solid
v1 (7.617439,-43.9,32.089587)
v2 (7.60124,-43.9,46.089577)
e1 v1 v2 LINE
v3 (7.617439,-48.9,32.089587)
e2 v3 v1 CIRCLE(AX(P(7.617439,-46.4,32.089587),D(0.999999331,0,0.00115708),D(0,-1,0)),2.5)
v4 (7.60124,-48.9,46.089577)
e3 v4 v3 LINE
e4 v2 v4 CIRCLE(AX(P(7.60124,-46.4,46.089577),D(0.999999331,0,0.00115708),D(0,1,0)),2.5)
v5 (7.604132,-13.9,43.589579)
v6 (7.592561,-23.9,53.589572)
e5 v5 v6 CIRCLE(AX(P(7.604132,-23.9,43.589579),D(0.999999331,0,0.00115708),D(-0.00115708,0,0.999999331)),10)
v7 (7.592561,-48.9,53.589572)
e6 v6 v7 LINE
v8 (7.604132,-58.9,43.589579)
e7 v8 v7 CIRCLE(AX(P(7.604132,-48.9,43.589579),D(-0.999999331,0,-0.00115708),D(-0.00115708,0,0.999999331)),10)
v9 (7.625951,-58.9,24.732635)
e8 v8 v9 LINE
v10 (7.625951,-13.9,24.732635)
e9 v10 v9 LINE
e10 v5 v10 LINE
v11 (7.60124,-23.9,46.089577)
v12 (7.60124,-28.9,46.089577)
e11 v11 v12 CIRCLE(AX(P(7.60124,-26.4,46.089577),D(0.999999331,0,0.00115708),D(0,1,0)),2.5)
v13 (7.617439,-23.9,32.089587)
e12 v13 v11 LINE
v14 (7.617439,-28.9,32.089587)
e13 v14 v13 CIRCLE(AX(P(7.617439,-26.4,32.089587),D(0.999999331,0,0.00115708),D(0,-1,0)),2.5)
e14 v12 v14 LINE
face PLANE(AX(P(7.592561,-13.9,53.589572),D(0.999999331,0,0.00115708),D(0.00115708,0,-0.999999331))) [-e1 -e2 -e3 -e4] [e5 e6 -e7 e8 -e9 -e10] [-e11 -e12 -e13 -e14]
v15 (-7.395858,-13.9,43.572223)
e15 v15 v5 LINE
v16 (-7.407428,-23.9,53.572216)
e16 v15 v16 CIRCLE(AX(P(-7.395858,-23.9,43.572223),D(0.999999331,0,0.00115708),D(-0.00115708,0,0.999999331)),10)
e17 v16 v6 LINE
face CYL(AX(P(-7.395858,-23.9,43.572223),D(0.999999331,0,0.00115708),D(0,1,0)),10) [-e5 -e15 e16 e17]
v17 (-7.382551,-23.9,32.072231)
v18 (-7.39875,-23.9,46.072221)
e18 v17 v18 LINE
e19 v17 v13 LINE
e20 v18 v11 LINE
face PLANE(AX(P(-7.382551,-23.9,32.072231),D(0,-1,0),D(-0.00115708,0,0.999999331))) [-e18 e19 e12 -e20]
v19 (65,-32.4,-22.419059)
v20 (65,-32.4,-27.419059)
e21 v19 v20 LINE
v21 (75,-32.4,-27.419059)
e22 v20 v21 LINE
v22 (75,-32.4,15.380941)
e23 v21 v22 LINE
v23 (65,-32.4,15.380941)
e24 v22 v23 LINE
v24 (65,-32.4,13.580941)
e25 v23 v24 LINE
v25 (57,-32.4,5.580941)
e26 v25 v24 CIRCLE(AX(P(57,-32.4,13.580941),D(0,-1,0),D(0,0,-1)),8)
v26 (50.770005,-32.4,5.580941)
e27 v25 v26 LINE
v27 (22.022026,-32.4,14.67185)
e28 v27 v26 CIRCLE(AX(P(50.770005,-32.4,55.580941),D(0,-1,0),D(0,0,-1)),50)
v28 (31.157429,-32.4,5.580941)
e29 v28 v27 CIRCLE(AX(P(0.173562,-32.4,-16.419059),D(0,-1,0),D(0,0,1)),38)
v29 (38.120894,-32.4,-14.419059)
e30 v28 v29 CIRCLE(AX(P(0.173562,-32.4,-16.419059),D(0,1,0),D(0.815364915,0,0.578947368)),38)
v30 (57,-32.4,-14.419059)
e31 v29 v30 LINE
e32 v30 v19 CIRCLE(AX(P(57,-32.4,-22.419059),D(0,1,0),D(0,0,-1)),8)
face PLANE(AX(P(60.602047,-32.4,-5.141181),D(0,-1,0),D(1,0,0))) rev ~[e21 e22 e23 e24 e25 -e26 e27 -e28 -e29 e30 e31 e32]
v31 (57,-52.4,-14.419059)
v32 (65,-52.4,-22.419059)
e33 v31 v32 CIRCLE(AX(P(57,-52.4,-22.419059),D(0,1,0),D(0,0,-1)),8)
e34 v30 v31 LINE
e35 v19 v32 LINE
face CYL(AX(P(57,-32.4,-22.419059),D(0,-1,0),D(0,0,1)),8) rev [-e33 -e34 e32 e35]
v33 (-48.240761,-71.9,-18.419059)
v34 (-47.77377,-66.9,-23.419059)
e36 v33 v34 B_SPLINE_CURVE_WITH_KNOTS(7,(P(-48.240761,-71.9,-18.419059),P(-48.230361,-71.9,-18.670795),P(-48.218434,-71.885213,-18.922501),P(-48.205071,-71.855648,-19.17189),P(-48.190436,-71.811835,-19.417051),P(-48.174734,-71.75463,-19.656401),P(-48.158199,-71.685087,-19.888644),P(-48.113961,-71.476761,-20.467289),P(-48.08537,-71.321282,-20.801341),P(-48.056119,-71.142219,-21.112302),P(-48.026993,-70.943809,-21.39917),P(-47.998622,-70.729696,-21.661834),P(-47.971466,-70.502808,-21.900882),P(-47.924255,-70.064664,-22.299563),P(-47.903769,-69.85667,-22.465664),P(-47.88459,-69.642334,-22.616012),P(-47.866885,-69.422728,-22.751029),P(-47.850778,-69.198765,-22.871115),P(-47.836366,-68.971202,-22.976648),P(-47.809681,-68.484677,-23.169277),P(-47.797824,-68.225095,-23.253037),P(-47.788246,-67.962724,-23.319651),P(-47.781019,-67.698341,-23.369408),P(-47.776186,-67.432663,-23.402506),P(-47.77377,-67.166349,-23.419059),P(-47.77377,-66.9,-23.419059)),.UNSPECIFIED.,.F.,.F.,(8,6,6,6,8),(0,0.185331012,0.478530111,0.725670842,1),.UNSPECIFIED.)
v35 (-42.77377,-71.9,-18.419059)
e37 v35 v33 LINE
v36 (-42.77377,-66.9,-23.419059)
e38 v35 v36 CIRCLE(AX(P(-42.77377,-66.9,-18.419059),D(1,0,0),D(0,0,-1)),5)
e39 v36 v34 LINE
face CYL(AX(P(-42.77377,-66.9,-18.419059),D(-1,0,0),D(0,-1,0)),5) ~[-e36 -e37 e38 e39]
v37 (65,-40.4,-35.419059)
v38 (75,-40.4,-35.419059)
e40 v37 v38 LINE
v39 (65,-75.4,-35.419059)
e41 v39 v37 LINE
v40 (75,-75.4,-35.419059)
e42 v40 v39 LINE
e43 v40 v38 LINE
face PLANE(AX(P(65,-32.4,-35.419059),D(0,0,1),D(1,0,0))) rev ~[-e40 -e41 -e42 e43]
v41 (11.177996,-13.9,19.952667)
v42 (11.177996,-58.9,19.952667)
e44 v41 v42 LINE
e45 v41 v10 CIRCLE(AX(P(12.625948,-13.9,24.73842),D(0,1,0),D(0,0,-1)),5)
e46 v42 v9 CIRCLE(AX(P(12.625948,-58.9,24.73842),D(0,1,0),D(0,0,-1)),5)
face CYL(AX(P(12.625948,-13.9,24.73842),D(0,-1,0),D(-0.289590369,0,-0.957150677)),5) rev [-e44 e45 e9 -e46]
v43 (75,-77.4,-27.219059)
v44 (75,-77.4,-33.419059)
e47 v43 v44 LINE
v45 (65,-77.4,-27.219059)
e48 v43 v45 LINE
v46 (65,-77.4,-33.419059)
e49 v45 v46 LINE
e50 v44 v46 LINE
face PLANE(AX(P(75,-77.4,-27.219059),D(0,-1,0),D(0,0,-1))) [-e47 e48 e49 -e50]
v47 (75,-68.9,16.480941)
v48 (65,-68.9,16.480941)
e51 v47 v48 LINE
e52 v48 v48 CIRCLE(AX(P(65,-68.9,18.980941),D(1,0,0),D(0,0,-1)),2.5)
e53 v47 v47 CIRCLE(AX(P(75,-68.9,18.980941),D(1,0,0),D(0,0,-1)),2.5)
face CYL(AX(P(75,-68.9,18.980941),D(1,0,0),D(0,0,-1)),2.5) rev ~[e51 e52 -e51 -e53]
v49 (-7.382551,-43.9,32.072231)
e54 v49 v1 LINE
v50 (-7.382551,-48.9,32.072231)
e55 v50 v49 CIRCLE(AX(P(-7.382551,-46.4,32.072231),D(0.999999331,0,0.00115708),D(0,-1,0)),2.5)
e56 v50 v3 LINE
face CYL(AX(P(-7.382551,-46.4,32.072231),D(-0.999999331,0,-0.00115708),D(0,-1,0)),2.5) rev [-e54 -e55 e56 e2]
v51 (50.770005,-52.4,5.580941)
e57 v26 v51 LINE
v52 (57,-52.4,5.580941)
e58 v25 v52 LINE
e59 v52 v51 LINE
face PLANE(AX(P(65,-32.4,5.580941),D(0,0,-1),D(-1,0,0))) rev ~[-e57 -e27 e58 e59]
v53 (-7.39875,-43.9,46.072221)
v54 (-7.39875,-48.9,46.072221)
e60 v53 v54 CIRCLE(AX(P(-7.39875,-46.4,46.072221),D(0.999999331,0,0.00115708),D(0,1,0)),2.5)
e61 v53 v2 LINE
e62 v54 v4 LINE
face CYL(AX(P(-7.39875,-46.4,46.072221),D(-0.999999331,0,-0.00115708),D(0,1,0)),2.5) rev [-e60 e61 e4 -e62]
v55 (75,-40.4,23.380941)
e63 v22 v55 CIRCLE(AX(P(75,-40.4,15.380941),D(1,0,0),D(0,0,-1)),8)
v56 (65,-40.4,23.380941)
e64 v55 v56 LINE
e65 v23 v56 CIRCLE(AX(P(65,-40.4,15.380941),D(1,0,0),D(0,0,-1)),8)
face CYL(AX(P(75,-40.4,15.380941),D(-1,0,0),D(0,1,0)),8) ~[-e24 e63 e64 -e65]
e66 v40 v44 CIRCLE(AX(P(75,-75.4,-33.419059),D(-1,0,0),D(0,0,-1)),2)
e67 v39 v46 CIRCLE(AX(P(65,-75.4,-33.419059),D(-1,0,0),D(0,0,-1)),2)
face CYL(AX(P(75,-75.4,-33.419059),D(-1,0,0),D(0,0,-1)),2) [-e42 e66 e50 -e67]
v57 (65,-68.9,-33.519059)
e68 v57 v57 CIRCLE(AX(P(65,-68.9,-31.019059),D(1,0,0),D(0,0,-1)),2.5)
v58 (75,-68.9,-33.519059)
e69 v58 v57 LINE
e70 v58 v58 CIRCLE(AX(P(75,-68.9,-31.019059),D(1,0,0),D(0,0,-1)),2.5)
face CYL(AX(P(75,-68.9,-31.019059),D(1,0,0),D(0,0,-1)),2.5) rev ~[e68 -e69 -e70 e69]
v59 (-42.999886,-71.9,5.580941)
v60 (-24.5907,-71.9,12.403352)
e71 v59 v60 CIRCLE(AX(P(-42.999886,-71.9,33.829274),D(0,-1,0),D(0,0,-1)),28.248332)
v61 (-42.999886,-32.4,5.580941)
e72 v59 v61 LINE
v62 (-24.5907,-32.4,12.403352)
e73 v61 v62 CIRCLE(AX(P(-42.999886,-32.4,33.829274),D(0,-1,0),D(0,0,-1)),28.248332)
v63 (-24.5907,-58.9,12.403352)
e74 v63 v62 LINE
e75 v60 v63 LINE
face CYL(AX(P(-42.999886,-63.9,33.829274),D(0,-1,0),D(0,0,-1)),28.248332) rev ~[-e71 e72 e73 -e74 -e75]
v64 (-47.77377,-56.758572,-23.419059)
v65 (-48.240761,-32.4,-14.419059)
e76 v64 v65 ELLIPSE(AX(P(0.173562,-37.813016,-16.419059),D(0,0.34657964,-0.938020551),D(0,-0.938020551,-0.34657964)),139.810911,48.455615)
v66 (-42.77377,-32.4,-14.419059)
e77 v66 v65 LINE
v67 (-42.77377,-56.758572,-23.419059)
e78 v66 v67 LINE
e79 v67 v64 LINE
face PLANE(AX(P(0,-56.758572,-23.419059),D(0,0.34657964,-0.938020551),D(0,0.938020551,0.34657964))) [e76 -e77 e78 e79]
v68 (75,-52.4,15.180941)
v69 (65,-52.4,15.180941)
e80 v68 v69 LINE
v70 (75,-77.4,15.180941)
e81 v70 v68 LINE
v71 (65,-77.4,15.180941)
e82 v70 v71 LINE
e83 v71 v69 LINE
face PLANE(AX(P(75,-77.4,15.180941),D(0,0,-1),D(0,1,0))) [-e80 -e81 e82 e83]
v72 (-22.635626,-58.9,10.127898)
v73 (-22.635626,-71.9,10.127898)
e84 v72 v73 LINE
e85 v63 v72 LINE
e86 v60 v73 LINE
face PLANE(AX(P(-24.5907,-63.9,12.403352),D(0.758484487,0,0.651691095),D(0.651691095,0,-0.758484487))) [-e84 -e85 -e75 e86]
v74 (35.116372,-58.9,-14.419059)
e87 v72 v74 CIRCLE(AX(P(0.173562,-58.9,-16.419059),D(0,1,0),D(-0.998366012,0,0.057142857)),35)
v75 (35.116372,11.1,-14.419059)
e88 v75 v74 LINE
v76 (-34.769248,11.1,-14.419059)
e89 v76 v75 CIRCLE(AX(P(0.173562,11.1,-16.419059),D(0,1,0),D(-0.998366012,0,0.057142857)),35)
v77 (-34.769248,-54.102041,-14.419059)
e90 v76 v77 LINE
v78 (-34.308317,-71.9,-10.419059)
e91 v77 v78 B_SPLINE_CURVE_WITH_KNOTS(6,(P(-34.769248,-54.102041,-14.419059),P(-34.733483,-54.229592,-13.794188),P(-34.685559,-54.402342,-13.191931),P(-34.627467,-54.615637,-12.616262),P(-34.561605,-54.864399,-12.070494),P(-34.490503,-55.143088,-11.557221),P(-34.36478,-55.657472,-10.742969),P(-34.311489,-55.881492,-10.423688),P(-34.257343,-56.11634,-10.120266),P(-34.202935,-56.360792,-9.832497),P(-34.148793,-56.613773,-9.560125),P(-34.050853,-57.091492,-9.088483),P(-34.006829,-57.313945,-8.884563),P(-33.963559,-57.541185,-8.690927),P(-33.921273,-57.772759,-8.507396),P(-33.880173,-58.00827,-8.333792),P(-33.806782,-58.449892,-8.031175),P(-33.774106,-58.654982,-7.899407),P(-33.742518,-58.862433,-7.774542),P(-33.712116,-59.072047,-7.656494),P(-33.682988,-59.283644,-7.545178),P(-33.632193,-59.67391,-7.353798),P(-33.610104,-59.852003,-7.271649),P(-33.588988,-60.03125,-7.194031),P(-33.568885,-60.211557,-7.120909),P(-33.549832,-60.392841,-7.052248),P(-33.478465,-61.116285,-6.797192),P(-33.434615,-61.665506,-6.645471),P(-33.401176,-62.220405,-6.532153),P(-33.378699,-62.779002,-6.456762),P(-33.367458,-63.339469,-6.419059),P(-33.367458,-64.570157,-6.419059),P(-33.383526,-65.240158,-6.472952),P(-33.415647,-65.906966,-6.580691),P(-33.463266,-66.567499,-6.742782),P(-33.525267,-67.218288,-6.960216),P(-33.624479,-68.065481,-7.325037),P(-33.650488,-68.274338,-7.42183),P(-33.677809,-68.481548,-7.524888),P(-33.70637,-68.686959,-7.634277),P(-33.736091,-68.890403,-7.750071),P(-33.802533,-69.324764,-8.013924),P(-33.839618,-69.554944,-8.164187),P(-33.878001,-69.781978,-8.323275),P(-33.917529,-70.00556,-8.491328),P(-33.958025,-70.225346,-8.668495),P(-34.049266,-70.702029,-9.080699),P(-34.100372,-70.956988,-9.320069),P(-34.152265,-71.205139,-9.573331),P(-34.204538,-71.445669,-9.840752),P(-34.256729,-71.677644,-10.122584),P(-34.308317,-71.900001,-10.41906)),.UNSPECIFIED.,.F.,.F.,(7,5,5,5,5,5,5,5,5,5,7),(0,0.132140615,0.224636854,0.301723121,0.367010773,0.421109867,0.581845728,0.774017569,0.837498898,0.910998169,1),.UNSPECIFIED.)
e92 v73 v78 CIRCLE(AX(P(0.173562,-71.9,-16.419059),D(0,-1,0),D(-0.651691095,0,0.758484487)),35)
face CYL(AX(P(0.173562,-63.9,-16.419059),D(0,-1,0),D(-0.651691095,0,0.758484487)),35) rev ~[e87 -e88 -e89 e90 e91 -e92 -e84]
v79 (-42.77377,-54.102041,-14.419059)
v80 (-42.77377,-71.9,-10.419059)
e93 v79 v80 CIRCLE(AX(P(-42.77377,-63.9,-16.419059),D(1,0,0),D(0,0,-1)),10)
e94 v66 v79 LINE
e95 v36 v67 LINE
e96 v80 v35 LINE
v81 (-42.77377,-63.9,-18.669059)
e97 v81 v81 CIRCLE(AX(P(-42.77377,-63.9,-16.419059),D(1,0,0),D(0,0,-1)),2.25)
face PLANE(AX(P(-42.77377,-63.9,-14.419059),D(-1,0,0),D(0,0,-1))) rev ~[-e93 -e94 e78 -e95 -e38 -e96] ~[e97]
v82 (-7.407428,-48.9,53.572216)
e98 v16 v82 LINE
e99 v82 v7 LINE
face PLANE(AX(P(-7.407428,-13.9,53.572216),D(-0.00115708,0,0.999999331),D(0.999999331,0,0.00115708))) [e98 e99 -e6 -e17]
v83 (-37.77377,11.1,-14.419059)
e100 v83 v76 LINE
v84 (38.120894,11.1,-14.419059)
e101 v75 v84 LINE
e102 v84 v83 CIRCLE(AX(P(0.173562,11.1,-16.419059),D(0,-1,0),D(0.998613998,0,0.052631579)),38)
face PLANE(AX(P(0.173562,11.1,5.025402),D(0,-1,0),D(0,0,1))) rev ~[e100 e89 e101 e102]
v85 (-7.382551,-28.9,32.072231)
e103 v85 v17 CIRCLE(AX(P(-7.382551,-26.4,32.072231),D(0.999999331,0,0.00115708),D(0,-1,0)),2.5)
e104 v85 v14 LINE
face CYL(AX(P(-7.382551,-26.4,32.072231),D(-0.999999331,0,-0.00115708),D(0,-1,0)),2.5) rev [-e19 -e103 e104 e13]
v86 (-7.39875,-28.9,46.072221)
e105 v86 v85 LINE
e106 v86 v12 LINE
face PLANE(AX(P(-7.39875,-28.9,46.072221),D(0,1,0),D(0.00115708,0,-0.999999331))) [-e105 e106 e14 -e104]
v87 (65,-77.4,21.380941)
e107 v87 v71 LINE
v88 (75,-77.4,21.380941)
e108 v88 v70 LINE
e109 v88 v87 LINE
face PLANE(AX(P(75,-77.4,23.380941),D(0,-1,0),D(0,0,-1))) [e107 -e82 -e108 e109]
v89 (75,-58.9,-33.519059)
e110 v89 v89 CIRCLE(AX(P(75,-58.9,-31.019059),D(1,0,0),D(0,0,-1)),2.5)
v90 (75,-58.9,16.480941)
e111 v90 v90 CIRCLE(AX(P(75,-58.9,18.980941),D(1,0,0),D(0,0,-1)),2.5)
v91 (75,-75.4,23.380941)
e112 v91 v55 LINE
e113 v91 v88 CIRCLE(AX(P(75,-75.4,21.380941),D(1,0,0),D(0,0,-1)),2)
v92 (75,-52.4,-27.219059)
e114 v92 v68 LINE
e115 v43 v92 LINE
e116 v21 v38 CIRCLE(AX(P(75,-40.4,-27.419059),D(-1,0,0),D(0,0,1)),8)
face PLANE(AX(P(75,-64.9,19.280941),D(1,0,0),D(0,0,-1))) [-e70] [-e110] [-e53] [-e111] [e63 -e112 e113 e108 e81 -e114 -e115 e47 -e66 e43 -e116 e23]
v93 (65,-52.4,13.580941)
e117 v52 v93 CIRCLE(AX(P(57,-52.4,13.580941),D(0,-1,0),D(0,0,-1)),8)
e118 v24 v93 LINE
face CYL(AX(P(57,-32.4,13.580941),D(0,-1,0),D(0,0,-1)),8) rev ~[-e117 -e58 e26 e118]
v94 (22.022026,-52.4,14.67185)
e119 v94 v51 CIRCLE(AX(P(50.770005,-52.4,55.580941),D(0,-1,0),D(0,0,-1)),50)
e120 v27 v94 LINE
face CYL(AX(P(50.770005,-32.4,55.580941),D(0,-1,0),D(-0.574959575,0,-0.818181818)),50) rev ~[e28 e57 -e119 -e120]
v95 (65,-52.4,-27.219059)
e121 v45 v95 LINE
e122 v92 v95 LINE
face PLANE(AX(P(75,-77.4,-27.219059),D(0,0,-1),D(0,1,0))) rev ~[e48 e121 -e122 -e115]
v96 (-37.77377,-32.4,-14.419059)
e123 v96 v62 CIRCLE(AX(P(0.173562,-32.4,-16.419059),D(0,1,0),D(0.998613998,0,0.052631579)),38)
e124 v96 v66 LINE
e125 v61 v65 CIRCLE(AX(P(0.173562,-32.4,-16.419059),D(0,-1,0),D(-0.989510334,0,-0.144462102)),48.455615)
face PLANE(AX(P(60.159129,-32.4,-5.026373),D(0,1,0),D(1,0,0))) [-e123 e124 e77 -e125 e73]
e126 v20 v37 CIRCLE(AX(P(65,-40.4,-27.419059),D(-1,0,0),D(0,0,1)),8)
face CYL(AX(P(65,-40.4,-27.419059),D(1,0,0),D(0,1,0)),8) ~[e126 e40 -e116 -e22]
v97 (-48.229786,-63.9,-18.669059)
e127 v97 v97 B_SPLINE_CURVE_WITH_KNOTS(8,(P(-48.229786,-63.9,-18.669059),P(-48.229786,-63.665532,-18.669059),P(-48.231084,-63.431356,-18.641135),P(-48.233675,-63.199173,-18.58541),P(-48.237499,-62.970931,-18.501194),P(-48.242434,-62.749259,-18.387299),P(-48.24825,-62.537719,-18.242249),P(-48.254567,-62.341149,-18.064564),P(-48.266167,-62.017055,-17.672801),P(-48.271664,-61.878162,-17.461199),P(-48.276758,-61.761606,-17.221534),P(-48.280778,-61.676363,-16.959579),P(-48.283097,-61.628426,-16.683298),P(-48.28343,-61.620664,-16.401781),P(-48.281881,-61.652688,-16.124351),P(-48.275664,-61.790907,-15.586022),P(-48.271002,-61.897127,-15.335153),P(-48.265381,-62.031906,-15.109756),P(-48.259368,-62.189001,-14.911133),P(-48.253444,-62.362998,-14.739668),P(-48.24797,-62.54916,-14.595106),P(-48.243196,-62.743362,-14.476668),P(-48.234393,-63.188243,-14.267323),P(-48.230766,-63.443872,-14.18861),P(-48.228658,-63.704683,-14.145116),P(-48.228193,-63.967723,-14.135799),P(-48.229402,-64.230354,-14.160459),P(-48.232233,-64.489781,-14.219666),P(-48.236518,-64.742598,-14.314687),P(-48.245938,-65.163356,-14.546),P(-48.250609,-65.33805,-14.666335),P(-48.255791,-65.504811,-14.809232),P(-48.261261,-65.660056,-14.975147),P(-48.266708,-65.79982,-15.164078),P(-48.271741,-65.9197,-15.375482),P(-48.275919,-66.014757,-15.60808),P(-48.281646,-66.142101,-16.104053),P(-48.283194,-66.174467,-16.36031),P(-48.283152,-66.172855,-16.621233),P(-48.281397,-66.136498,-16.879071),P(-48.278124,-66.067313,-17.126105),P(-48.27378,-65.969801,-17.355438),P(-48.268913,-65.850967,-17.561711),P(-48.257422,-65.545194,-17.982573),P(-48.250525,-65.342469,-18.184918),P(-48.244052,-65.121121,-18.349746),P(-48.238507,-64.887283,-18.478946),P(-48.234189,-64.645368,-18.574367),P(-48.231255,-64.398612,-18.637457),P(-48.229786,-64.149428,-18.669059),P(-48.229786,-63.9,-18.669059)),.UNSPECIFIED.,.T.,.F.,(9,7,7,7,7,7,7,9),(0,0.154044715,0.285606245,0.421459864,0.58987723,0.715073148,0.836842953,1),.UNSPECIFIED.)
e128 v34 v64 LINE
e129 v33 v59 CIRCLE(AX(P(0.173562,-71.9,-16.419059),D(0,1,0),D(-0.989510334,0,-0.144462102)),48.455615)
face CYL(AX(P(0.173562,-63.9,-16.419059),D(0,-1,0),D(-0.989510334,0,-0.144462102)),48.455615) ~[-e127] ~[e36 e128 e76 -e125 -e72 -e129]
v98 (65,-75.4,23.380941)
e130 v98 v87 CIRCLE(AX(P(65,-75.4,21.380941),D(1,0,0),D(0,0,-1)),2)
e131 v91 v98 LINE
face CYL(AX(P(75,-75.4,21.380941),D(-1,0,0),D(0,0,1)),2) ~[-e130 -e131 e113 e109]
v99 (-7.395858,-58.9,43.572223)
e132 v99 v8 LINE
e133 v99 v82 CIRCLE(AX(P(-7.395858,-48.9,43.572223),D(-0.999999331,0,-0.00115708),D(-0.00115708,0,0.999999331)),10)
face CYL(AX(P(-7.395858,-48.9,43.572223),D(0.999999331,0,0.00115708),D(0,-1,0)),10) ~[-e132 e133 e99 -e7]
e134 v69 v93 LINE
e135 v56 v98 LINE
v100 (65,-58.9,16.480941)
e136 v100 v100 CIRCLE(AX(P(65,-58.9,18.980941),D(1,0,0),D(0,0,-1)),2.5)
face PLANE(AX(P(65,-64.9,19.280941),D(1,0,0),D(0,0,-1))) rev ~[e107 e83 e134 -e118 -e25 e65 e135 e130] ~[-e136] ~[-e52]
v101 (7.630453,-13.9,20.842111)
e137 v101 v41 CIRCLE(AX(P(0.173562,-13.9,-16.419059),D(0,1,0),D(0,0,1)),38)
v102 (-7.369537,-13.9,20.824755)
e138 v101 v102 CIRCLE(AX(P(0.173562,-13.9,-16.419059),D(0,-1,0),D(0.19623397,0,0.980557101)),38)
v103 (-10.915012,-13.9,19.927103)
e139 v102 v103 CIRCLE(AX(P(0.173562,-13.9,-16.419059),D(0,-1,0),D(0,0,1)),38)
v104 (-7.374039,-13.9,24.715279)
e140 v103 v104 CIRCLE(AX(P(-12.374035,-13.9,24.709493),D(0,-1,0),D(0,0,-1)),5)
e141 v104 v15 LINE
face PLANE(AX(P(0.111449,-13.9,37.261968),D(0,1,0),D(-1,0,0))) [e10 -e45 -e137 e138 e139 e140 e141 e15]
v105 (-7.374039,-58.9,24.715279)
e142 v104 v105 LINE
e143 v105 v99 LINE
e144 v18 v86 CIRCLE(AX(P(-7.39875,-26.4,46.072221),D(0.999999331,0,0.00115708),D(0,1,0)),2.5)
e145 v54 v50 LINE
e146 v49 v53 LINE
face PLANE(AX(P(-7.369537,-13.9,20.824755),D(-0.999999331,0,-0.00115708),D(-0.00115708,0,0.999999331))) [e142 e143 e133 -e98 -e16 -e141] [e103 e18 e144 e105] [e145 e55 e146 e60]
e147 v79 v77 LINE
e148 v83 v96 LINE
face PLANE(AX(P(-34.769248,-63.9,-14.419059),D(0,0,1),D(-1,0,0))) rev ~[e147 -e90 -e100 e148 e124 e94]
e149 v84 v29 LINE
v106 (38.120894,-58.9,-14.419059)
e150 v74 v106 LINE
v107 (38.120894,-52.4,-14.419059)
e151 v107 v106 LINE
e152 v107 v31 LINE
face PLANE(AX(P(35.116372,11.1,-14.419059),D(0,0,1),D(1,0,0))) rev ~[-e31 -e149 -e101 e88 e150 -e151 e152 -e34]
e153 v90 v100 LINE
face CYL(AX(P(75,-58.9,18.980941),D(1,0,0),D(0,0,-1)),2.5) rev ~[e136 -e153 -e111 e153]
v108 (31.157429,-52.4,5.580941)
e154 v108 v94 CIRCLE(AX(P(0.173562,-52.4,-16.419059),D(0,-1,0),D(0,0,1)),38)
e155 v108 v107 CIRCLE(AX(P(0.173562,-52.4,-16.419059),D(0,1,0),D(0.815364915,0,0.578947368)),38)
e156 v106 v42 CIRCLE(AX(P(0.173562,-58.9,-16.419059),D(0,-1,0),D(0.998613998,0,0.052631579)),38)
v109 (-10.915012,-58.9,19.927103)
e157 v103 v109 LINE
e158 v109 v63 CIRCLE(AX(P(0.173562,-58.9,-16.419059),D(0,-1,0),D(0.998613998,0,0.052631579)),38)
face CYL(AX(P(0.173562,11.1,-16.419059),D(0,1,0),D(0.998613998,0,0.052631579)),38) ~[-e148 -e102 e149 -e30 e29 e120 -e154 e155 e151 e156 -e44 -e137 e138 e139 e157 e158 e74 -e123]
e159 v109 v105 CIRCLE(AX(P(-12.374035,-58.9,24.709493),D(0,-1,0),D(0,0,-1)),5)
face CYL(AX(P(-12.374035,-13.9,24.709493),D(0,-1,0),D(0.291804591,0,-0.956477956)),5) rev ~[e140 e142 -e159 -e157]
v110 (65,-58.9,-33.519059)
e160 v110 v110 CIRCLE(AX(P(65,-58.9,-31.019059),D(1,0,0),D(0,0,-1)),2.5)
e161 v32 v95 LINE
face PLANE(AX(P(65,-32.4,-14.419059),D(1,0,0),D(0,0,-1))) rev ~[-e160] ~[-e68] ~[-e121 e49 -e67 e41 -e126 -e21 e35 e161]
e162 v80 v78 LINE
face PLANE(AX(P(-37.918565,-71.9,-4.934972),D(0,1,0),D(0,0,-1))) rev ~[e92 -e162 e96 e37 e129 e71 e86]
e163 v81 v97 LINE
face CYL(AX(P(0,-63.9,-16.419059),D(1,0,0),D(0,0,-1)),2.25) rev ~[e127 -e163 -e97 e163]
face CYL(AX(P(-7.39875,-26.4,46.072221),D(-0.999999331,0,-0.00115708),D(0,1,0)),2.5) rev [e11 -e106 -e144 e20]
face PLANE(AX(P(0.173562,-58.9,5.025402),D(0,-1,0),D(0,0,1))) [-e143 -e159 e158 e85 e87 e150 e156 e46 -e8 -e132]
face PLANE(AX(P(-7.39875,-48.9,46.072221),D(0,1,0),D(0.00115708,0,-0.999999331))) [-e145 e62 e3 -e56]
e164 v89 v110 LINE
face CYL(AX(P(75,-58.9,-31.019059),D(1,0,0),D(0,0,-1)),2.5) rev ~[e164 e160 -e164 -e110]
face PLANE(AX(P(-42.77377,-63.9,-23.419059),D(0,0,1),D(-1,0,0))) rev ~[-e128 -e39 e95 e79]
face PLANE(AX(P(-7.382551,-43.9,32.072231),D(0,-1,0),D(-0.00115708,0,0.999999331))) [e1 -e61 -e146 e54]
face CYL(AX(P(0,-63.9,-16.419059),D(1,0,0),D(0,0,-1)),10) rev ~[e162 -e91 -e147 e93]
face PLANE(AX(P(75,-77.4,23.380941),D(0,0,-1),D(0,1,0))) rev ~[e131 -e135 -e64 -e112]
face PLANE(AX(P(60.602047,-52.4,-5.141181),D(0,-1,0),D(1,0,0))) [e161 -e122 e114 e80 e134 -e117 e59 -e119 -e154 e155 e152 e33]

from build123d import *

# Parameters (mm, degrees)
BOSS_EXTRU_1_DEPTH             = 70
BOSS_EXTRU_2_START             = -45
BOSS_EXTRU_2_DEPTH             = 45
ENL_V_MAT_EXTRU_1_DEPTH        = 15
BOSS_EXTRU_6_START             = -20
BOSS_EXTRU_6_DEPTH             = 20
ESQUISSE10_W                   = 8.2
ESQUISSE10_H                   = 25
ESQUISSE10_R                   = 2.5
BOSS_EXTRU_7_DEPTH             = 10
BOSS_EXTRU_8_DEPTH             = 8
BOSS_EXTRU_8_DIRECTION_2_REACH = 120.835
ESQUISSE12_R                   = 10
ENL_V_MAT_EXTRU_2_DEPTH        = 42.773769853
ESQUISSE13_R                   = 2.25
ENL_V_MAT_EXTRU_3_DEPTH        = 65
CONG_5_R                       = 5
CONG_6_R                       = 50
CONG_7_R                       = 5
CONG_8_R                       = 8
CONG_9_R                       = 8
CONG_10_R                      = 2
CONG_11_R                      = 10


with BuildPart() as part:
    # Esquisse1 → Boss.-Extru.1 (new body)
    with BuildSketch(Plane(origin=(0, 11.1, 0), x_dir=(0, 0, 1), z_dir=(0, -1, 0))):
        with BuildLine():
            Line((-14.419058892, 37.773769853), (-14.419058892, 34.76924835))
            ThreePointArc((-14.419058892, 34.76924835), (18.580941108, -0.173562069), (-14.419058892, -35.116372489))
            Line((-14.419058892, -35.116372489), (-14.419058892, -38.120893991))
            ThreePointArc((-14.419058892, -38.120893991), (21.580941108, -0.173562069), (-14.419058892, 37.773769853))
        make_face()
    extrude(amount=BOSS_EXTRU_1_DEPTH)

    # Esquisse2 → Boss.-Extru.2 (add)
    with BuildSketch(Plane.XZ.offset(58.9).offset(BOSS_EXTRU_2_START)):
        with BuildLine():
            Line((-7.36953704, 20.824754767), (-7.407428488, 53.572216152))
            Line((-7.407428488, 53.572216152), (7.592561471, 53.589572347))
            Line((7.592561471, 53.589572347), (7.630452918, 20.842110962))
            ThreePointArc((7.630452918, 20.842110962), (0.129593041, 21.580915671), (-7.36953704, 20.824754767))
        make_face()
    extrude(amount=BOSS_EXTRU_2_DEPTH)

    # Esquisse3 → Enlèv. mat.-Extru.1 (cut)
    with BuildSketch(Plane(origin=(-7.345431289, 0, -0.008499255), x_dir=(-0.0011570796870464528, 0, 0.999999330583075), z_dir=(-0.999999330583075, 0, -0.0011570796870464528))):
        with BuildLine():
            Line((46.080751274, -28.9), (32.080751274, -28.9))
            ThreePointArc((32.080751274, -28.9), (29.580751274, -26.4), (32.080751274, -23.9))
            Line((32.080751274, -23.9), (46.080751274, -23.9))
            ThreePointArc((46.080751274, -23.9), (48.580751274, -26.4), (46.080751274, -28.9))
        make_face()
        with BuildLine():
            Line((32.080751274, -43.9), (46.080751274, -43.9))
            ThreePointArc((46.080751274, -43.9), (48.580751274, -46.4), (46.080751274, -48.9))
            Line((46.080751274, -48.9), (32.080751274, -48.9))
            ThreePointArc((32.080751274, -48.9), (29.580751274, -46.4), (32.080751274, -43.9))
        make_face()
    extrude(amount=-ENL_V_MAT_EXTRU_1_DEPTH, mode=Mode.SUBTRACT)

    # Esquisse5 → Boss.-Extru.6 (add)
    with BuildSketch(Plane.XZ.offset(52.4).offset(BOSS_EXTRU_6_START)):
        with BuildLine():
            Line((38.120893991, -14.419058892), (65, -14.419058892))
            Line((65, -14.419058892), (65, -35.419058892))
            Line((65, -35.419058892), (75, -35.419058892))
            Line((75, -35.419058892), (75, 23.380941108))
            Line((75, 23.380941108), (65, 23.380941108))
            Line((65, 23.380941108), (65, 5.580941108))
            Line((65, 5.580941108), (31.157428839, 5.580941108))
            ThreePointArc((31.157428839, 5.580941108), (36.060572787, -3.924161464), (38.120893991, -14.419058892))
        make_face()
    extrude(amount=BOSS_EXTRU_6_DEPTH)

    # Esquisse10 → Boss.-Extru.7 (add)
    # profile 1 of 2: a face of its own
    with BuildSketch(Plane(origin=(75, 0, 0), x_dir=(0, 0, -1), z_dir=(1, 0, 0))):
        with Locations((-19.280941108, -64.9)):
            Rectangle(ESQUISSE10_W, ESQUISSE10_H)
        with Locations((-18.980941108, -58.9)):
            Circle(ESQUISSE10_R, mode=Mode.SUBTRACT)
        with Locations((-18.980941108, -68.9)):
            Circle(ESQUISSE10_R, mode=Mode.SUBTRACT)
    # profile 2 of 2: a face of its own
    with BuildSketch(Plane(origin=(75, 0, 0), x_dir=(0, 0, -1), z_dir=(1, 0, 0))):
        with Locations((31.319058892, -64.9)):
            Rectangle(ESQUISSE10_W, ESQUISSE10_H)
        with Locations((31.019058892, -58.9)):
            Circle(ESQUISSE10_R, mode=Mode.SUBTRACT)
        with Locations((31.019058892, -68.9)):
            Circle(ESQUISSE10_R, mode=Mode.SUBTRACT)
    extrude(amount=-BOSS_EXTRU_7_DEPTH)

    # Esquisse11 → Boss.-Extru.8 (add)
    with BuildSketch(Plane(origin=(0, -63.9, 0), x_dir=(0, 0, 1), z_dir=(0, -1, 0))):
        with BuildLine():
            Line((-14.419058892, 37.773769853), (-14.419058892, 42.773769853))
            Line((-14.419058892, 42.773769853), (-23.419058892, 42.773769853))
            Line((-23.419058892, 42.773769853), (-23.419058892, 47.773769853))
            ThreePointArc((-23.419058892, 47.773769853), (-8.548386036, 47.638561364), (5.580941108, 42.999886235))
            ThreePointArc((5.580941108, 42.999886235), (7.341400367, 33.183529475), (12.403351613, 24.590699533))
            Line((12.403351613, 24.590699533), (10.127898152, 22.635626249))
            ThreePointArc((10.127898152, 22.635626249), (-0.909758926, 31.202569218), (-14.419058892, 34.76924835))
            Line((-14.419058892, 34.76924835), (-14.419058892, 37.773769853))
        make_face()
    extrude(amount=BOSS_EXTRU_8_DEPTH)

    # Boss.-Extru.8 direction 2: up to this face of the body (flat: up to its plane)
    boss_extru_8_direction_2_end = Plane(part.part.faces().sort_by_distance((60.159129099, -32.4, -5.026373369))[0])
    # Esquisse11 → Boss.-Extru.8 direction 2 (add, up to the picked face)
    with BuildSketch(Plane(origin=(0, -63.9, 0), x_dir=(0, 0, 1), z_dir=(0, -1, 0)), mode=Mode.PRIVATE) as boss_extru_8_direction_2_sk1:
        with BuildLine():
            Line((-14.419058892, 37.773769853), (-14.419058892, 42.773769853))
            Line((-14.419058892, 42.773769853), (-23.419058892, 42.773769853))
            Line((-23.419058892, 42.773769853), (-23.419058892, 47.773769853))
            ThreePointArc((-23.419058892, 47.773769853), (-8.548386036, 47.638561364), (5.580941108, 42.999886235))
            ThreePointArc((5.580941108, 42.999886235), (7.341400367, 33.183529475), (12.403351613, 24.590699533))
            Line((12.403351613, 24.590699533), (10.127898152, 22.635626249))
            ThreePointArc((10.127898152, 22.635626249), (-0.909758926, 31.202569218), (-14.419058892, 34.76924835))
            Line((-14.419058892, 34.76924835), (-14.419058892, 37.773769853))
        make_face()
    boss_extru_8_direction_2_tool1 = split(extrude(boss_extru_8_direction_2_sk1.sketch, amount=-BOSS_EXTRU_8_DIRECTION_2_REACH, mode=Mode.PRIVATE), bisect_by=boss_extru_8_direction_2_end, keep=Keep.BOTH, mode=Mode.PRIVATE)
    add(boss_extru_8_direction_2_tool1.solids().sort_by(Axis((-38.873879, -63.9, -4.751333), (0, 1, 0)))[0])

    # Esquisse12 → Enlèv. mat.-Extru.2 (cut)
    with BuildSketch(Plane(origin=(0, 0, 0), x_dir=(0, 0, -1), z_dir=(1, 0, 0))):
        with Locations((16.419058892, -63.9)):
            Circle(ESQUISSE12_R)
    extrude(amount=-ENL_V_MAT_EXTRU_2_DEPTH, mode=Mode.SUBTRACT)

    # Esquisse13 → Enlèv. mat.-Extru.3 (cut)
    with BuildSketch(Plane(origin=(0, 0, 0), x_dir=(0, 0, -1), z_dir=(1, 0, 0))):
        with Locations((16.419058892, -63.9)):
            Circle(ESQUISSE13_R)
        Polygon((14.419058892, -32.4), (23.419058892, -32.4), (23.419058892, -56.758571571), align=None)
    extrude(amount=-ENL_V_MAT_EXTRU_3_DEPTH, mode=Mode.SUBTRACT)

    # Congé5
    cong_5_edges = [part.edges().sort_by_distance(p)[0] for p in [
        (-45.273769853, -71.9, -23.419058892),
    ]]
    fillet(cong_5_edges, radius=CONG_5_R)

    # Congé6
    cong_6_edges = [part.edges().sort_by_distance(p)[0] for p in [
        (31.157428839, -42.4, 5.580941108),
    ]]
    fillet(cong_6_edges, radius=CONG_6_R)

    # Congé7
    cong_7_edges = [part.edges().sort_by_distance(p)[0] for p in [
        (7.630452918, -36.4, 20.842110962),
        (-7.36953704, -36.4, 20.824754767),
    ]]
    fillet(cong_7_edges, radius=CONG_7_R)

    # Congé8
    cong_8_edges = [part.edges().sort_by_distance(p)[0] for p in [
        (65, -42.4, 5.580941108),
        (65, -42.4, -14.419058892),
    ]]
    fillet(cong_8_edges, radius=CONG_8_R)

    # Congé9
    cong_9_edges = [part.edges().sort_by_distance(p)[0] for p in [
        (70, -32.4, 23.380941108),
        (70, -32.4, -35.419058892),
    ]]
    fillet(cong_9_edges, radius=CONG_9_R)

    # Congé10
    cong_10_edges = [part.edges().sort_by_distance(p)[0] for p in [
        (70, -77.4, 23.380941108),
        (70, -77.4, -35.419058892),
    ]]
    fillet(cong_10_edges, radius=CONG_10_R)

    # Congé11
    cong_11_edges = [part.edges().sort_by_distance(p)[0] for p in [
        (0.092566491, -13.9, 53.580894249),
        (0.092566491, -58.9, 53.580894249),
    ]]
    fillet(cong_11_edges, radius=CONG_11_R)


solid = part.part
